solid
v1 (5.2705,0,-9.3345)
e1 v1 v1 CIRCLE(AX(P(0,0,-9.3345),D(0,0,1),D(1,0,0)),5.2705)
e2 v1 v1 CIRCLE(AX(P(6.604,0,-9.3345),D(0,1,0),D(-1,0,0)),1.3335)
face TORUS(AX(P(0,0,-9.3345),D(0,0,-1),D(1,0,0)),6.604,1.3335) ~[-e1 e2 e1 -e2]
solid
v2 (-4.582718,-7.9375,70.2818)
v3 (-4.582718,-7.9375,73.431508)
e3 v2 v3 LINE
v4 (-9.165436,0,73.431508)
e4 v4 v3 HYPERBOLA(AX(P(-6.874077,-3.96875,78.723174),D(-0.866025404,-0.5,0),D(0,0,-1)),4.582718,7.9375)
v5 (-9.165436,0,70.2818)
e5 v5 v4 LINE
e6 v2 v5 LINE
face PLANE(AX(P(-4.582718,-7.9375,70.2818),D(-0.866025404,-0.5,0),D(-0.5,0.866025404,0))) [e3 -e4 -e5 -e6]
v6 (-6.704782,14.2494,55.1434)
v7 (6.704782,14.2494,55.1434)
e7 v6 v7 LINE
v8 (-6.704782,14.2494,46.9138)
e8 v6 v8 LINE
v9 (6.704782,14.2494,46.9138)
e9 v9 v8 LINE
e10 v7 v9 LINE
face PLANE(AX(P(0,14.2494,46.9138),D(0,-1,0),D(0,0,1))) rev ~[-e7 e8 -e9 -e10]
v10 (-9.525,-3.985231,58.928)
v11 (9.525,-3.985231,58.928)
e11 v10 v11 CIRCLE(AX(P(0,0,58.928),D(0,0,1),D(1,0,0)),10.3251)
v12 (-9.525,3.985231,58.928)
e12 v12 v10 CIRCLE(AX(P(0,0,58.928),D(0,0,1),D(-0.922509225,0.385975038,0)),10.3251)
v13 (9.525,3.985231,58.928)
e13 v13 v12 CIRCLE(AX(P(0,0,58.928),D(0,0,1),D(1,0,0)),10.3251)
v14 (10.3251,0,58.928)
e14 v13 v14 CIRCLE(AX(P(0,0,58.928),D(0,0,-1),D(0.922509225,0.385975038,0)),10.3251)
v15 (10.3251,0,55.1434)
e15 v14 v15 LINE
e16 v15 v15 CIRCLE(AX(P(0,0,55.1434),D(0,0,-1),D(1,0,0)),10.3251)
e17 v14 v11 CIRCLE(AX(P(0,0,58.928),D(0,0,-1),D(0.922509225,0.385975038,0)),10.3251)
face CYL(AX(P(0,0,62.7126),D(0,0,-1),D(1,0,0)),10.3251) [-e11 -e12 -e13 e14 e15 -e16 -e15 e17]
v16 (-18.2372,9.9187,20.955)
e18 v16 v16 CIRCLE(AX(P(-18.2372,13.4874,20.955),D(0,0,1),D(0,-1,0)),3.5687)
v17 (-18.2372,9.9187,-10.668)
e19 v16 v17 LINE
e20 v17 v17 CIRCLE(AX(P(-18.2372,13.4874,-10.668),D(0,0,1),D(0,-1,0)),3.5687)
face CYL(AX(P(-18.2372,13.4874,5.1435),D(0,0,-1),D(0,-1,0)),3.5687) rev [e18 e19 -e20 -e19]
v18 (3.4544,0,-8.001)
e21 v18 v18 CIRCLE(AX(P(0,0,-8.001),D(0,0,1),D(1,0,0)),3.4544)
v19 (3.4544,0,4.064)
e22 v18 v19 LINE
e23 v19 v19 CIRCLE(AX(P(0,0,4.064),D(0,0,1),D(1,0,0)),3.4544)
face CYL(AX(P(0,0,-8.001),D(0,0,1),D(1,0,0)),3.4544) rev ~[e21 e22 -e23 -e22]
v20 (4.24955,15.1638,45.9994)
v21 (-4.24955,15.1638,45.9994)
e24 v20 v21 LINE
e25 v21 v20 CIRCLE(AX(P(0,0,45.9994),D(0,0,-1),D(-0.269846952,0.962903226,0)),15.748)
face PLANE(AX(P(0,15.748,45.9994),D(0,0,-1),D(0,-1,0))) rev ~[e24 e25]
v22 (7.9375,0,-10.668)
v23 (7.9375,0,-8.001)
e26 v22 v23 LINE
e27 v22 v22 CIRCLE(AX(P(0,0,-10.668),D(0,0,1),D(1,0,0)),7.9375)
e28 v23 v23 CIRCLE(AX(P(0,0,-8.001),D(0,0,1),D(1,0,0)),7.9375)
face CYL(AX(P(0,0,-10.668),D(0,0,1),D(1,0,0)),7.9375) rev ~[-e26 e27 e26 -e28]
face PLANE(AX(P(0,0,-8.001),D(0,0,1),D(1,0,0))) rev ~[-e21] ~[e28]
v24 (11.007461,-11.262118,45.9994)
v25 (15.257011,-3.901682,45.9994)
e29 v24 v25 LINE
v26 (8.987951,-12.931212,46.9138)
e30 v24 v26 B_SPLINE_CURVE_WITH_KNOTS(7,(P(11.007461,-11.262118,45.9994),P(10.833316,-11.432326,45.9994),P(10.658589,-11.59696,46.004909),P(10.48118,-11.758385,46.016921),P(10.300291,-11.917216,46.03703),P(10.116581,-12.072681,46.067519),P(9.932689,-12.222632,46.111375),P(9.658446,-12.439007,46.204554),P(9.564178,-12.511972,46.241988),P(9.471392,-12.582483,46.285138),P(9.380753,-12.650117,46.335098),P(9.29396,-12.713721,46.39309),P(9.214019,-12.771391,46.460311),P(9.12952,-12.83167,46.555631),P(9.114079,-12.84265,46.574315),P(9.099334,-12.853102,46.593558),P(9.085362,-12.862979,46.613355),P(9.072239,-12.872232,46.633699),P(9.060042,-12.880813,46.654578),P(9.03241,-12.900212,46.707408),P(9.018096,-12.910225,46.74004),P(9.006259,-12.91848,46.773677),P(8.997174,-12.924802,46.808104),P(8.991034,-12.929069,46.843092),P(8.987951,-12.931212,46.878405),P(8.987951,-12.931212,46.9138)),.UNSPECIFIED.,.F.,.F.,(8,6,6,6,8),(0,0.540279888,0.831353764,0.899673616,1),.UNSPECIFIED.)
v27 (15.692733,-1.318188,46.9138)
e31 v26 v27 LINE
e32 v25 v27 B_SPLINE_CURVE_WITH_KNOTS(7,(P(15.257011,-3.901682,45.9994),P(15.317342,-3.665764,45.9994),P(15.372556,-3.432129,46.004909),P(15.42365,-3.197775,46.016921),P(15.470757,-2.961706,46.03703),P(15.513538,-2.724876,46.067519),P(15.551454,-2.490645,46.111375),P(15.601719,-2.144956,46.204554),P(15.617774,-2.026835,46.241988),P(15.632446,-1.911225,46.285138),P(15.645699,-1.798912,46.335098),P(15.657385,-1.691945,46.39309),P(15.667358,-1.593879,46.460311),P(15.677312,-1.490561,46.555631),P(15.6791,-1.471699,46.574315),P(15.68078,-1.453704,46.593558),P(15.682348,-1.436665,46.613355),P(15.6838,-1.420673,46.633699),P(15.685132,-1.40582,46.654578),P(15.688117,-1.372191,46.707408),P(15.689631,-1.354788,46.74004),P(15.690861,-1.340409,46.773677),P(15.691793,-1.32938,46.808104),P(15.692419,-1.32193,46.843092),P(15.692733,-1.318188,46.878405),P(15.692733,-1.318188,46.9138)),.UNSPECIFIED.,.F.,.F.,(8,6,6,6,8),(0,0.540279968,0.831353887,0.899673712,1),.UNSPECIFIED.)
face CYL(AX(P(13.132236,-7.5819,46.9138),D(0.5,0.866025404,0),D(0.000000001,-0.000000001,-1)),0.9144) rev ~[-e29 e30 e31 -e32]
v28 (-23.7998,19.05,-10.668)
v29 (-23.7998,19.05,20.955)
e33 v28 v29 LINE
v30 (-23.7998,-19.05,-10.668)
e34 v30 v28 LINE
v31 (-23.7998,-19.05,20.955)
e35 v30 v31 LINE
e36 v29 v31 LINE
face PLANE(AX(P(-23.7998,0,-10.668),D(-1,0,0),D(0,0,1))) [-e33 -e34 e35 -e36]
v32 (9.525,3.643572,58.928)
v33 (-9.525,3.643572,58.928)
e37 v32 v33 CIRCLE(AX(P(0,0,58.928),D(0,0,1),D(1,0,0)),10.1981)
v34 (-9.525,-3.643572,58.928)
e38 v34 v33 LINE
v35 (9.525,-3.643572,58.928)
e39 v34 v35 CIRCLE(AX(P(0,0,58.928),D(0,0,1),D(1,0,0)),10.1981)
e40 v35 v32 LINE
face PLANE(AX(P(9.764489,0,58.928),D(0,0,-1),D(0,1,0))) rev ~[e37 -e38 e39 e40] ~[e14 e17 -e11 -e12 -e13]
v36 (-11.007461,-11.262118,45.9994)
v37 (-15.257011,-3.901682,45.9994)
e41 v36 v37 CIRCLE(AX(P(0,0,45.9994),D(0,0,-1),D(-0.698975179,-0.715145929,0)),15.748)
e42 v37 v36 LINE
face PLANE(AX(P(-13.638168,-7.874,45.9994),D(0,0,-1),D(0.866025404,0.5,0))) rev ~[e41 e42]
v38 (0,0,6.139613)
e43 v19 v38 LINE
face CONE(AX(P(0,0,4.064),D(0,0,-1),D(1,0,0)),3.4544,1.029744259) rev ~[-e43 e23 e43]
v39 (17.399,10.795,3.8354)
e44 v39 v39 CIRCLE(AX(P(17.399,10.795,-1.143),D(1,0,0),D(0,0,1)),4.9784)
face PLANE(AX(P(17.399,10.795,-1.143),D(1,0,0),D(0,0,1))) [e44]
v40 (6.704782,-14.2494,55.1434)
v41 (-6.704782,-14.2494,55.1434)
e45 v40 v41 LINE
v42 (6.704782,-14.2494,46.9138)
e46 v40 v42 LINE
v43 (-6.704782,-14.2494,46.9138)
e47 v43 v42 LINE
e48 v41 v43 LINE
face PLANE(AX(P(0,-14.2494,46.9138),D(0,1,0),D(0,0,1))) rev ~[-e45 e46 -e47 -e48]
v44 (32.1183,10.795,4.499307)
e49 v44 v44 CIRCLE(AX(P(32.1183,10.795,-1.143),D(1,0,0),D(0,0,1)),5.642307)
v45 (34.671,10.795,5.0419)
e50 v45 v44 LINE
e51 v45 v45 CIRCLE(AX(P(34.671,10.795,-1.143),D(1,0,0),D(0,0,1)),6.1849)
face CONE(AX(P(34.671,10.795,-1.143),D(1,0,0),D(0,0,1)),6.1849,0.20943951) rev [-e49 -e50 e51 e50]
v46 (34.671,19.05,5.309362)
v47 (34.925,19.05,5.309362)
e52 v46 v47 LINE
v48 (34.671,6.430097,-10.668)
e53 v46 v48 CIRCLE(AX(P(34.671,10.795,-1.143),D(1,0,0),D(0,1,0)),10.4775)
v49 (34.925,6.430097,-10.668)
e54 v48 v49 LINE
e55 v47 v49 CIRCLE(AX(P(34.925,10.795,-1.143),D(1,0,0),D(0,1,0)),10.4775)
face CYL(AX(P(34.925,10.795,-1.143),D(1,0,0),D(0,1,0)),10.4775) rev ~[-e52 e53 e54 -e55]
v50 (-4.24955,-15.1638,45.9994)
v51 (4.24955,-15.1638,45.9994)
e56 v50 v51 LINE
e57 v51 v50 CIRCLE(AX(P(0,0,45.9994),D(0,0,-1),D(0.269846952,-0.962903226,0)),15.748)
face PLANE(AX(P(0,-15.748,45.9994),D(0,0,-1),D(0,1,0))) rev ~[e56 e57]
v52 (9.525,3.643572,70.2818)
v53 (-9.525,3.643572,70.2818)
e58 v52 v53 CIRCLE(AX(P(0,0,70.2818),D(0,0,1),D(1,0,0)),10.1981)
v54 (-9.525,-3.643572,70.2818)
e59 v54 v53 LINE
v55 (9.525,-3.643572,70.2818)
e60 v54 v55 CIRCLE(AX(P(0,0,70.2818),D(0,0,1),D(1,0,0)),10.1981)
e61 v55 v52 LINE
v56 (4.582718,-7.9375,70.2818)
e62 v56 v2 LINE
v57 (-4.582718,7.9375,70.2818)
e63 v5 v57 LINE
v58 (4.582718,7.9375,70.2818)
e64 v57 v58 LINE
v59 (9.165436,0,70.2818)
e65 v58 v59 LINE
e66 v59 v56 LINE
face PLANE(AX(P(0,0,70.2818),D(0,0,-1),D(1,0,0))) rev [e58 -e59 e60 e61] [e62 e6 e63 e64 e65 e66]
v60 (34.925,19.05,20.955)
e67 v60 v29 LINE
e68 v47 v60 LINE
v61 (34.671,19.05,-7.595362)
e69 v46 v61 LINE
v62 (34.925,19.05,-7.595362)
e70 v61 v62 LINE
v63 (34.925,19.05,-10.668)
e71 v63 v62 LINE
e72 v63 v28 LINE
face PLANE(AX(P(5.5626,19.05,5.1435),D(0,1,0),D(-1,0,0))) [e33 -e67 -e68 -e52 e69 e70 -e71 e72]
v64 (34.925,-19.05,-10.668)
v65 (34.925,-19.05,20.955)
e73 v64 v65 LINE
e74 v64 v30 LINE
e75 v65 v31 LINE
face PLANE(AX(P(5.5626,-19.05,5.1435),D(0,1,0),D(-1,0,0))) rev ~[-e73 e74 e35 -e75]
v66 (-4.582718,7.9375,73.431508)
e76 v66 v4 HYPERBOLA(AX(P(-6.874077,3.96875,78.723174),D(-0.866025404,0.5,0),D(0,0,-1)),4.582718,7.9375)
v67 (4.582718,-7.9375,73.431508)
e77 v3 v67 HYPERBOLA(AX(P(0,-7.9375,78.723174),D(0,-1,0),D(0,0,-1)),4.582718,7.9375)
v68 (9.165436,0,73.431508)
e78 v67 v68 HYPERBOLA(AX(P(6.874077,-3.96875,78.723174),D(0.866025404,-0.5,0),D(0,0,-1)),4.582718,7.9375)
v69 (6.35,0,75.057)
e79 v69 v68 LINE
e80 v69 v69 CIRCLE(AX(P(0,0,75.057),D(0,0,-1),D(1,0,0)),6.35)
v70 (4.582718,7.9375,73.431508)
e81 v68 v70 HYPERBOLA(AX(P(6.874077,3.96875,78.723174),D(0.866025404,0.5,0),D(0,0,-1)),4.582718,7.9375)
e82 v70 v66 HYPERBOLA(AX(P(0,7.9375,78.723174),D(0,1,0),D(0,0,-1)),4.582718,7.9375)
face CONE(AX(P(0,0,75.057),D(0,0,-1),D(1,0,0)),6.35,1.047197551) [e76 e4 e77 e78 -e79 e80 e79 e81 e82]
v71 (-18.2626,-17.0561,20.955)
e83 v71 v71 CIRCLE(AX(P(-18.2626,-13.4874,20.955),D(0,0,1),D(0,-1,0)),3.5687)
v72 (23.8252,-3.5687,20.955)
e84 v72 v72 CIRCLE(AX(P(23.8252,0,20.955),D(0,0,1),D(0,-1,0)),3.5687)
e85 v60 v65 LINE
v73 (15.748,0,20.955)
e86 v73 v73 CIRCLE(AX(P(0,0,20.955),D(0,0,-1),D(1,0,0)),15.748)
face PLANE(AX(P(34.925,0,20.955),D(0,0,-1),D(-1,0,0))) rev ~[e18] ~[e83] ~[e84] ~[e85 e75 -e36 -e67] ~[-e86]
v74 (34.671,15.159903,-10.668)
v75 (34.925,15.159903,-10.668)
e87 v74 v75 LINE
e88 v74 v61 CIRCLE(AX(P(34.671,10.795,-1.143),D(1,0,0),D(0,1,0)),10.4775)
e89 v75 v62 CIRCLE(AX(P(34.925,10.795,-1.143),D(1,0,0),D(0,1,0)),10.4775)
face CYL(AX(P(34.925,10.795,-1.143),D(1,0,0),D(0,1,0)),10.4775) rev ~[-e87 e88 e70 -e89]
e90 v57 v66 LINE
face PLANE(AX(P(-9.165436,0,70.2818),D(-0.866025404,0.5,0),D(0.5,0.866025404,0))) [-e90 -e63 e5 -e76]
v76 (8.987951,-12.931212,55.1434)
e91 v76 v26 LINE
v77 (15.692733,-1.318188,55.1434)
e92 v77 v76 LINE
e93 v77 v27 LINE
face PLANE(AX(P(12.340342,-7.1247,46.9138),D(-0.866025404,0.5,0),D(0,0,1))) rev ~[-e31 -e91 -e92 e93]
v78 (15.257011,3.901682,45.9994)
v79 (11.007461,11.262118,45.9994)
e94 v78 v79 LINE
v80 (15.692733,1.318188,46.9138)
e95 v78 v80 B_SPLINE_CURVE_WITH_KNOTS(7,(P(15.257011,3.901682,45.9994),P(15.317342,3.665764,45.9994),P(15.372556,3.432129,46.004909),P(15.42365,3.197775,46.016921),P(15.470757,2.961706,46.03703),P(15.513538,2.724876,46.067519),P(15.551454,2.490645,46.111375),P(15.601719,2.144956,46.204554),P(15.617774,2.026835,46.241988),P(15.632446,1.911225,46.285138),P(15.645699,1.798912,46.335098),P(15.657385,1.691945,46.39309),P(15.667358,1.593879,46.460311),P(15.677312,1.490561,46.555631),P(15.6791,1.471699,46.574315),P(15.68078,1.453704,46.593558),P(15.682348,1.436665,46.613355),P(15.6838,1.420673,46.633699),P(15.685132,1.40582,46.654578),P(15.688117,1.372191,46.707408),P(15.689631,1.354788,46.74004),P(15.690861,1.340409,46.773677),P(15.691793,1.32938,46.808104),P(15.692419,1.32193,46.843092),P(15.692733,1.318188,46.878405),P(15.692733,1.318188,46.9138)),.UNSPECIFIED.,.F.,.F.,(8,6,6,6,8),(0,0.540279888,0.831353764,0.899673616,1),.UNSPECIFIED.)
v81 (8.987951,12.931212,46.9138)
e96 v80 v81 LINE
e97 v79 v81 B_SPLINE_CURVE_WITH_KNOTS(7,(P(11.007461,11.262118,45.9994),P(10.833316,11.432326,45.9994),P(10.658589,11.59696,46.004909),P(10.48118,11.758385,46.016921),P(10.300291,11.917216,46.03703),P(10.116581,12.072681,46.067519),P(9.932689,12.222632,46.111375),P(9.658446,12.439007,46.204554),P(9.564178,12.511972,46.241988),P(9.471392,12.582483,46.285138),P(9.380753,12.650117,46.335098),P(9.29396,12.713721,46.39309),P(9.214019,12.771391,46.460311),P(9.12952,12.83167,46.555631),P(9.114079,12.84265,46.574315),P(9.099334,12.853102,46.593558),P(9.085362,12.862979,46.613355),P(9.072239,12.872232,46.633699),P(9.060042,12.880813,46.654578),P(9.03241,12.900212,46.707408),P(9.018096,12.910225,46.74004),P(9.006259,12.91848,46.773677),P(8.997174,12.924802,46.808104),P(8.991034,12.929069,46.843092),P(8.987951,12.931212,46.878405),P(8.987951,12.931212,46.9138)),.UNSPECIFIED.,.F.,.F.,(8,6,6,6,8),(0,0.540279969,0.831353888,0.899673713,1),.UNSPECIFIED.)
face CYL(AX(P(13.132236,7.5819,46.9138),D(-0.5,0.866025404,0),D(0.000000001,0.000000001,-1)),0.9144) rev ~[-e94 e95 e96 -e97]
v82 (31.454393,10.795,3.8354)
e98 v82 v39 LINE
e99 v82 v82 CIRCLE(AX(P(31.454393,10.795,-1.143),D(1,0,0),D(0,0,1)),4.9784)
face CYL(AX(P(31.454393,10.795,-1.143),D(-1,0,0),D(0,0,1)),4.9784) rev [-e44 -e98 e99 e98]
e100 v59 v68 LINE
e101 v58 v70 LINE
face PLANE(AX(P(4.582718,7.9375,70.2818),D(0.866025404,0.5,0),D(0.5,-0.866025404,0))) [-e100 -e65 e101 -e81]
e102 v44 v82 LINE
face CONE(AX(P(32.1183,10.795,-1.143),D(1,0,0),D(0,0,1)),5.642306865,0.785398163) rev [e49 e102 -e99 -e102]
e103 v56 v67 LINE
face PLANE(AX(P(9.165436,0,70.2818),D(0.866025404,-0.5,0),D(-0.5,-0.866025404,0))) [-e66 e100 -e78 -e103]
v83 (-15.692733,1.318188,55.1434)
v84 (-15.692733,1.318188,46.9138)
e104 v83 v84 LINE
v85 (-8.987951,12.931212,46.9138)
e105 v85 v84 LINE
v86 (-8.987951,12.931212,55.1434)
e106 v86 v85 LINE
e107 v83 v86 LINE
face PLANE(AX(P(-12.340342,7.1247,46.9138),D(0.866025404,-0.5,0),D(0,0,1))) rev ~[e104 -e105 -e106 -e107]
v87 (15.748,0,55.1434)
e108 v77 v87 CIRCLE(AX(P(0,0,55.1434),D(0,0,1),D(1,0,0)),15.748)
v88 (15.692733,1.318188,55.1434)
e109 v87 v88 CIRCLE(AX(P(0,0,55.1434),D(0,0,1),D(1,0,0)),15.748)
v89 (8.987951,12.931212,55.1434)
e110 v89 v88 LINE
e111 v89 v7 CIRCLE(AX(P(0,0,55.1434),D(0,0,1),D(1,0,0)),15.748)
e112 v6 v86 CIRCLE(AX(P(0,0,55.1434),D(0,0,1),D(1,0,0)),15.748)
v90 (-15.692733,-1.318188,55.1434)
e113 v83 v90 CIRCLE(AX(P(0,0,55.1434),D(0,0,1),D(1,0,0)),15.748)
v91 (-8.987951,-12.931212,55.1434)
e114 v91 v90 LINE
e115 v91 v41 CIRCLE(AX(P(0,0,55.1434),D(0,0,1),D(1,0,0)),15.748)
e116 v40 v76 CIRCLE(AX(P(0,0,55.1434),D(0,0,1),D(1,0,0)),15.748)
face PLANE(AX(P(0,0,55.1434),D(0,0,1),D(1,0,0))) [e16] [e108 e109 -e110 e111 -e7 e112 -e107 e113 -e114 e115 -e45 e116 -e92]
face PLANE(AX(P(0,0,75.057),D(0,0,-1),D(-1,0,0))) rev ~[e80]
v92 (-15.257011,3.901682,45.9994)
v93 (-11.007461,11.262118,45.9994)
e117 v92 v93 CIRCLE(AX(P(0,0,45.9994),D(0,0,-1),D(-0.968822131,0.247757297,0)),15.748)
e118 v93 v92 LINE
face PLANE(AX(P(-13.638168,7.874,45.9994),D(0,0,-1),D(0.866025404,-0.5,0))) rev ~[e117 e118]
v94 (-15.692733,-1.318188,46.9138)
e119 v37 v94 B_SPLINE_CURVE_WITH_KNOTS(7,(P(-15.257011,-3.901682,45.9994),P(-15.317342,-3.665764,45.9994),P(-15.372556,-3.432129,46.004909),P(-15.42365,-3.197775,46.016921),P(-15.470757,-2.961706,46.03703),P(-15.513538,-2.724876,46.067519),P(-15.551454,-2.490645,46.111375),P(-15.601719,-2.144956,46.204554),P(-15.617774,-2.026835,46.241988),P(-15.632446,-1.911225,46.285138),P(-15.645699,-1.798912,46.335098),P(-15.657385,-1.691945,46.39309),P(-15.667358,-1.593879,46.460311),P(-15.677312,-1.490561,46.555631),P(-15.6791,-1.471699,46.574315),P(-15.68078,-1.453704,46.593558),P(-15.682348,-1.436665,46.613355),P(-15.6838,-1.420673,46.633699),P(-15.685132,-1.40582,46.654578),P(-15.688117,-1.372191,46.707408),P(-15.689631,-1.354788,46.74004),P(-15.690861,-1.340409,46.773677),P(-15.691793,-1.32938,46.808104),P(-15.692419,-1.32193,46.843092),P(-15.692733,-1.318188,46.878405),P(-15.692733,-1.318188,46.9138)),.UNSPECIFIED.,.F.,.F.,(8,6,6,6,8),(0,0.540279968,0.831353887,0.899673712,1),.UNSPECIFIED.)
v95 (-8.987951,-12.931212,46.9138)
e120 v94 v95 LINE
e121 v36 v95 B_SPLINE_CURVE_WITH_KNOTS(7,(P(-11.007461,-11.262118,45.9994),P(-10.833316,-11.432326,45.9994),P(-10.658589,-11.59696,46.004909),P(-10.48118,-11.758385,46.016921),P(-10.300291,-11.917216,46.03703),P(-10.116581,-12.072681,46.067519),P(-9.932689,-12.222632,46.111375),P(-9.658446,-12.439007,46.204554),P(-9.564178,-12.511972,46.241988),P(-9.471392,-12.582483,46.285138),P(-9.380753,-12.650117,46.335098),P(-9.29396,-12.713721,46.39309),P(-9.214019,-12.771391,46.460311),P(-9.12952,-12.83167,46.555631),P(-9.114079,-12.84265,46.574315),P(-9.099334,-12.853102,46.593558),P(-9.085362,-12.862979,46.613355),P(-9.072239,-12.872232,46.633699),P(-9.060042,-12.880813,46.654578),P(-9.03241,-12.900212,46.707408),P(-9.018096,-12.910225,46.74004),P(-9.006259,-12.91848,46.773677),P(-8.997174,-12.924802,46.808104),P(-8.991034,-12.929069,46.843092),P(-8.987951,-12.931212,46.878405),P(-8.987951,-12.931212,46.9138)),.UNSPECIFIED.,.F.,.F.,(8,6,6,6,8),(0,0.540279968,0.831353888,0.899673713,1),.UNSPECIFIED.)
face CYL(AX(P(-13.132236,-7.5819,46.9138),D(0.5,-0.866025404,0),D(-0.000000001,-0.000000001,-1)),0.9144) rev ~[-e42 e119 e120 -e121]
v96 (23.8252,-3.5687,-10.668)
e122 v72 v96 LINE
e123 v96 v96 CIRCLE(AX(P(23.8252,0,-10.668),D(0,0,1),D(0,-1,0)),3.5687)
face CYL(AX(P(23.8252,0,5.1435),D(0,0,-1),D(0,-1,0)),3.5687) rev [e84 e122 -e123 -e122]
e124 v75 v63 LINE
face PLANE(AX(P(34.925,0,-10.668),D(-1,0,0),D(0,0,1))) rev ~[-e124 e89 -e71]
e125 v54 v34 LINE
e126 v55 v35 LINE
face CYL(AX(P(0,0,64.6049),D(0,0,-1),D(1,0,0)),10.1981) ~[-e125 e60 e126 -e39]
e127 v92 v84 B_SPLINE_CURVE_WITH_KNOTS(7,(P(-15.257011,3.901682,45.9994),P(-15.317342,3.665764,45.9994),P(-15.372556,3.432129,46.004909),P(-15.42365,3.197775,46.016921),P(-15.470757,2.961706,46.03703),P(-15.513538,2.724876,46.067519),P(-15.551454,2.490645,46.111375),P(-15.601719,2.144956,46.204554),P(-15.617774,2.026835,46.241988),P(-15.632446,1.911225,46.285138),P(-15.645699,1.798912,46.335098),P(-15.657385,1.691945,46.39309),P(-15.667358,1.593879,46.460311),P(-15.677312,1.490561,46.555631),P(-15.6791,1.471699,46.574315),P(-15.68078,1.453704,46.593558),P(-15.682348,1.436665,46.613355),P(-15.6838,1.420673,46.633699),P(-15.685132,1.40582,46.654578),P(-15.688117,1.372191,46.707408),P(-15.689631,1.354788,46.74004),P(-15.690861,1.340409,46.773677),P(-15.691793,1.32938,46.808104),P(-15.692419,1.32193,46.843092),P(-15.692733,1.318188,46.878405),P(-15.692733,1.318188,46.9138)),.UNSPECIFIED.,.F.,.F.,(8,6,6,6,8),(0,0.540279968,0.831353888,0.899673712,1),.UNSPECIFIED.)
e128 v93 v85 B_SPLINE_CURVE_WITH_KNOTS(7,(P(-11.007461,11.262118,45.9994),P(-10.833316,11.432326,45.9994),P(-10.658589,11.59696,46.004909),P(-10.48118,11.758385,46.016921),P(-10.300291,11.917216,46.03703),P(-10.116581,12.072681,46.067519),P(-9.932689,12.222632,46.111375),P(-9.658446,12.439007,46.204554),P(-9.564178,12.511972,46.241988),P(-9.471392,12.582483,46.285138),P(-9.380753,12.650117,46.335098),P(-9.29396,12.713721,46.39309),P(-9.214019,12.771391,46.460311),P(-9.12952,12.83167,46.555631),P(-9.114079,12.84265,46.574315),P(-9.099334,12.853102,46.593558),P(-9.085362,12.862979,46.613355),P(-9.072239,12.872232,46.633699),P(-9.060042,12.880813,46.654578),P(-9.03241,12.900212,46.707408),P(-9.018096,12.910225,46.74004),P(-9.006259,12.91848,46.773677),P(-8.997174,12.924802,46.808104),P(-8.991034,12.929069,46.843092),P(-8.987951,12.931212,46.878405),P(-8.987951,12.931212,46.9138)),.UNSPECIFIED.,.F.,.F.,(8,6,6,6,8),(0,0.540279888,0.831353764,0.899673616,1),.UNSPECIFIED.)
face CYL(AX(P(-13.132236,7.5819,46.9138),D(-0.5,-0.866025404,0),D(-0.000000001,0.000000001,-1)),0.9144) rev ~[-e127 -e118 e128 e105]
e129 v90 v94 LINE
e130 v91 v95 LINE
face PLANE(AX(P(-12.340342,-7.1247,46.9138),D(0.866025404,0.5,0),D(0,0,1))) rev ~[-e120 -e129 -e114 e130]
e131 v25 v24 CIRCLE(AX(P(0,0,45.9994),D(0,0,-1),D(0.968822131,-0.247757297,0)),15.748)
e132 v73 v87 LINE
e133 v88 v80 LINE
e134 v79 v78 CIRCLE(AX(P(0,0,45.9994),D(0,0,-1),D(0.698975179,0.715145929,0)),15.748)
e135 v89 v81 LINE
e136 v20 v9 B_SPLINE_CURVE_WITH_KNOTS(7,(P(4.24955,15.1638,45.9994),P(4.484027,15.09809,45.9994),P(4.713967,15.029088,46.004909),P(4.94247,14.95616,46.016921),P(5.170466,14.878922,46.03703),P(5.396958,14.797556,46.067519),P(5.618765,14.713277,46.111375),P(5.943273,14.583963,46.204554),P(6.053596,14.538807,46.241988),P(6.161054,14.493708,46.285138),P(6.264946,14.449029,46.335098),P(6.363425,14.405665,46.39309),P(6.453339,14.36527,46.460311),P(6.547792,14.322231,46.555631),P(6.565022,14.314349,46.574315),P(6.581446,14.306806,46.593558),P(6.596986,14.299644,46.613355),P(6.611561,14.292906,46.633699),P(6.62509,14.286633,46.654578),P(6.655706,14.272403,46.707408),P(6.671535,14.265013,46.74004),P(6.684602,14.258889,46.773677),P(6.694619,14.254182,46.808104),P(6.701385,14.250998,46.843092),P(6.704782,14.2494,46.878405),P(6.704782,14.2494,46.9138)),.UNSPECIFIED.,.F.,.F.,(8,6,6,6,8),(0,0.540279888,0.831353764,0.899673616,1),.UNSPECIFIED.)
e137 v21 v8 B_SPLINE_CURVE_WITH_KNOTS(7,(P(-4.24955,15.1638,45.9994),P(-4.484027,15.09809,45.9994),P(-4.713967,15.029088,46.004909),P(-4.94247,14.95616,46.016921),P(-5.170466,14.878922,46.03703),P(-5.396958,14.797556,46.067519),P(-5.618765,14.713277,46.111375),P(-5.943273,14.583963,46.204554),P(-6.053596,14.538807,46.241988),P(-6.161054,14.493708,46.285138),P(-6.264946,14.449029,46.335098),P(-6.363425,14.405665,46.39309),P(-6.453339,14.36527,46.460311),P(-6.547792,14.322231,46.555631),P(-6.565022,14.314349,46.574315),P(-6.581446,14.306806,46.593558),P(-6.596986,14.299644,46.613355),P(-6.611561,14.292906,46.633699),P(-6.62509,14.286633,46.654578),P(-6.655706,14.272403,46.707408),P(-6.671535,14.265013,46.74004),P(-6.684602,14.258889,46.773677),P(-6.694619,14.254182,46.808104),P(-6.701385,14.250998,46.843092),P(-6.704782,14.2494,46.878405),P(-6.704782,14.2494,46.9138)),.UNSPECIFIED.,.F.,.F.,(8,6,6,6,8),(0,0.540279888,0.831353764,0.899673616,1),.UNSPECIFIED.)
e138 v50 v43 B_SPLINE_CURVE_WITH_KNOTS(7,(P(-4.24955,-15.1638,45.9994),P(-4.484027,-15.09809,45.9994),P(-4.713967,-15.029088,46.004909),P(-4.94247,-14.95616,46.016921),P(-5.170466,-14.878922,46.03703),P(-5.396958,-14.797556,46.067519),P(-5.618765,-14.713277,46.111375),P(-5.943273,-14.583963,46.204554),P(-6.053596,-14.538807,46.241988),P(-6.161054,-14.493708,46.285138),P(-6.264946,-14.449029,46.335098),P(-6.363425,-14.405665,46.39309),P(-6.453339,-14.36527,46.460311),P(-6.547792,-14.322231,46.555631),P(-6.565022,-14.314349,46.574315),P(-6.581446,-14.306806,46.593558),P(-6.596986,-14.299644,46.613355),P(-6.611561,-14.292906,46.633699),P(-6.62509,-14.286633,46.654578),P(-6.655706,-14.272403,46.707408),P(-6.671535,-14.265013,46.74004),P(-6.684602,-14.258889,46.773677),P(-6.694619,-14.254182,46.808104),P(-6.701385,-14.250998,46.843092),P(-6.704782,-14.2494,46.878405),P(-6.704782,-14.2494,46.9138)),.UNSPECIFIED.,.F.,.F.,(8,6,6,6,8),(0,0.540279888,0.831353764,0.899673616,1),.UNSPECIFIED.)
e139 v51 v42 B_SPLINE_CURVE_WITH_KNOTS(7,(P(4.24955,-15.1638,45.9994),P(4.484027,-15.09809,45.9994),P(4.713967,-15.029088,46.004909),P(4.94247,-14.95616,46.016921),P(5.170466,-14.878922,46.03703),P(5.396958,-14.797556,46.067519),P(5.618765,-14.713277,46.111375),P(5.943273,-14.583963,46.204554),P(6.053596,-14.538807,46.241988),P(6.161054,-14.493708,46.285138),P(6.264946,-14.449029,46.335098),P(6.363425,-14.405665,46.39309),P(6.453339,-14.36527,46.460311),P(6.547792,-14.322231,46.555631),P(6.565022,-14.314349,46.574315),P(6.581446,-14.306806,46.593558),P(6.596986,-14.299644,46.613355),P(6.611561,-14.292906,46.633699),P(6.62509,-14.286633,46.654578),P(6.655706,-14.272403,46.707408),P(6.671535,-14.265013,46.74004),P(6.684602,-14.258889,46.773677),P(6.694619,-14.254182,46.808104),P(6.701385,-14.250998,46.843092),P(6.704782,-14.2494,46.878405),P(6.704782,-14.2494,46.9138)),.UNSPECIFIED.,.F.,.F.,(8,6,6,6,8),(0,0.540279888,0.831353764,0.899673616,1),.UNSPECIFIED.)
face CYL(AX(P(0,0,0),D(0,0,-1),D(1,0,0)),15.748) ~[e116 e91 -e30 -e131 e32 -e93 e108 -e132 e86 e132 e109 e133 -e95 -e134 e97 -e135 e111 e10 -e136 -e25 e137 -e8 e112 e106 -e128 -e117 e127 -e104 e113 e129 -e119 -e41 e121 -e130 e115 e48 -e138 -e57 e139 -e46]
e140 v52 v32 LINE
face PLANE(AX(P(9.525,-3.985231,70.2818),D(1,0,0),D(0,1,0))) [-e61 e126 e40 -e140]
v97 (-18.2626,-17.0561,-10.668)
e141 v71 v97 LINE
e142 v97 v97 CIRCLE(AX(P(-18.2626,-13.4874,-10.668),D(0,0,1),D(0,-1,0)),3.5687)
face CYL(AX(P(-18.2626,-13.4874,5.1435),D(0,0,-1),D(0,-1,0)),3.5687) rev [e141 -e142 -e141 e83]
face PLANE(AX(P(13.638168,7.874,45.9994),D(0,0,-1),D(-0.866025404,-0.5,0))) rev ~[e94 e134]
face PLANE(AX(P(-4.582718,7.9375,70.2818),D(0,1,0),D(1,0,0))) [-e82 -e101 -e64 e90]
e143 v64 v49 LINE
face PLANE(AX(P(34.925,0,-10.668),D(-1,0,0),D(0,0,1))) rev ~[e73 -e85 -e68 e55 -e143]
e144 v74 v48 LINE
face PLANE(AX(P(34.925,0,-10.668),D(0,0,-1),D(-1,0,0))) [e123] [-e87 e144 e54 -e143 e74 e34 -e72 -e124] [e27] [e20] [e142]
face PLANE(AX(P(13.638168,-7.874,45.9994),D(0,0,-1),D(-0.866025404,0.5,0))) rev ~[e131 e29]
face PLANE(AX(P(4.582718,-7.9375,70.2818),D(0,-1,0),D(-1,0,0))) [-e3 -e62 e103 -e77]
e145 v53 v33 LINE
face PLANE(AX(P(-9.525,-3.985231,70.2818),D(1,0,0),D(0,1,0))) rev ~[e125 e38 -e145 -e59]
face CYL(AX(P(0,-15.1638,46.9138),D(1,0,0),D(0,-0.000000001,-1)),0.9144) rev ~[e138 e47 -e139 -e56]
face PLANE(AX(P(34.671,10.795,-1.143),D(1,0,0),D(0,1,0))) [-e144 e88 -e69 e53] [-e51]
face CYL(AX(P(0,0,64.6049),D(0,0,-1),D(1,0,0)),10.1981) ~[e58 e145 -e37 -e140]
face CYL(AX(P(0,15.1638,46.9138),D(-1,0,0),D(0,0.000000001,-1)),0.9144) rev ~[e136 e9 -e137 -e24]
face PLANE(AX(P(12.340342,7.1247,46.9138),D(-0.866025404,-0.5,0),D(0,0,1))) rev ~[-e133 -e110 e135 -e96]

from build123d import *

# Parameters (mm, degrees)
SKETCH1_R           = 15.748
EXTRUDE1_DEPTH      = 55.1434
CUT_EXTRUDE1_DEPTH  = 18.8976
SKETCH11_W          = 15.1384
SKETCH11_H          = 10.3251
CUT_EXTRUDE10_DEPTH = 11.3538
EXTRUDE2_DEPTH      = 4.7752
SKETCH17_W          = 58.7248
SKETCH17_H          = 31.623
EXTRUDE4_DEPTH      = 19.05
SKETCH19_R          = 10.4775
CUT_EXTRUDE12_DEPTH = 0.254
SKETCH22_R          = 1.3335
CIRPATTERN2_COUNT   = 6
SKETCH23_W          = 3.5687
SKETCH23_H          = 31.623
HOLE1_AT_2_COUNT    = 2
HOLE1_AT_2_PITCH    = 44.196072988
HOLE1_AT_3_COUNT    = 2
HOLE1_AT_3_PITCH    = 26.974811959
SKETCH25_W          = 11.3538
SKETCH25_H          = 0.127


with BuildPart() as part:
    # Sketch1 → Extrude1 (new body)
    with BuildSketch(Plane.XY):
        Circle(SKETCH1_R)
    extrude(amount=EXTRUDE1_DEPTH)

    # Sketch2 → Cut-Extrude1 (cut, symmetric)
    with BuildSketch(Plane(origin=(0, 0, 0), x_dir=(0, 0, 1), z_dir=(1, 0, 0))):
        with BuildLine():
            Line((45.9994, 15.748), (45.9994, 15.1638))
            ThreePointArc((45.9994, 15.1638), (46.267221559, 14.517221559), (46.9138, 14.2494))
            Line((46.9138, 14.2494), (55.1434, 14.2494))
            Line((55.1434, 14.2494), (55.1434, 15.748))
            Line((55.1434, 15.748), (45.9994, 15.748))
        make_face()
    cut_extrude1 = extrude(amount=CUT_EXTRUDE1_DEPTH, both=True, mode=Mode.SUBTRACT)

    # Sketch10 → Cut-Revolve1 (revolve, cut)
    with BuildSketch(Plane(origin=(0, 0, 0), x_dir=(0, 0, 1), z_dir=(1, 0, 0)), mode=Mode.PRIVATE) as cut_revolve1_sk:
        Polygon((0, 14.8717), (7.7978, 14.8717), (8.6741, 15.748), (0, 15.748), align=None)
    revolve(cut_revolve1_sk.sketch.rotate(Axis((0, 0, -0.433705), (0, 0, 1)), 90), axis=Axis((0, 0, -0.433705), (0, 0, 1)), mode=Mode.SUBTRACT)  # turned: the seam where the file's is

    # Sketch11 → Revolve1 (revolve)
    with BuildSketch(Plane(origin=(0, 0, 0), x_dir=(0, 0, -1), z_dir=(1, 0, 0)), mode=Mode.PRIVATE) as revolve1_sk:
        with Locations((-62.7126, 5.16255)):
            Rectangle(SKETCH11_W, SKETCH11_H)
    revolve(revolve1_sk.sketch.rotate(Axis((0, 0, 71.154272279), (0, 0, -1)), 90), axis=Axis((0, 0, 71.154272279), (0, 0, -1)))  # turned: the seam where the file's is

    # Sketch14 → Cut-Extrude10 (cut)
    with BuildSketch(Plane.YX.offset(-70.2818)):
        with BuildLine():
            Line((-3.98523086, 9.525), (3.98523086, 9.525))
            ThreePointArc((3.98523086, 9.525), (0, 10.3251), (-3.98523086, 9.525))
        make_face()
        with BuildLine():
            Line((-3.98523086, -9.525), (3.98523086, -9.525))
            ThreePointArc((3.98523086, -9.525), (0, -10.3251), (-3.98523086, -9.525))
        make_face()
    extrude(amount=CUT_EXTRUDE10_DEPTH, mode=Mode.SUBTRACT)

    # Sketch15 → Extrude2 (add)
    with BuildSketch(Plane.XY.offset(70.2818)):
        Polygon((-4.582717762, 7.9375), (4.582717762, 7.9375), (9.165435523, 0), (4.582717762, -7.9375), (-4.582717762, -7.9375), (-9.165435523, 0), align=None)
    extrude(amount=EXTRUDE2_DEPTH)

    # Sketch16 → Cut-Revolve3 (revolve, cut)
    with BuildSketch(Plane(origin=(0, 0, 0), x_dir=(1, 0, 0), z_dir=(0, 1, 0))):
        Polygon((6.35, -75.057), (9.165435523, -73.431507543), (9.165435523, -75.057), align=None)
    revolve(axis=Axis((0, 0, 75.265274623), (0, 0, -1)), mode=Mode.SUBTRACT)

    # Sketch17 → Extrude4 (add, symmetric)
    with BuildSketch(Plane(origin=(0, 0, 0), x_dir=(-1, 0, 0), z_dir=(0, 1, 0))):
        with Locations((-5.5626, 5.1435)):
            Rectangle(SKETCH17_W, SKETCH17_H)
    extrude(amount=EXTRUDE4_DEPTH, both=True)

    # Sketch19 → Cut-Extrude12 (cut)
    with BuildSketch(Plane(origin=(34.925, -19.05, 0), x_dir=(0, 1, 0), z_dir=(1, 0, 0))):
        with Locations((29.845, -1.143)):
            Circle(SKETCH19_R)
    extrude(amount=-CUT_EXTRUDE12_DEPTH, mode=Mode.SUBTRACT)

    # S2D0001 → Cut-Revolve4 (revolve, cut)
    with BuildSketch(Plane(origin=(34.671, 10.795, -1.143), x_dir=(0, -1, 0), z_dir=(0, 0, 1)), mode=Mode.PRIVATE) as cut_revolve4_sk:
        Polygon((0, 0), (6.1849, 0), (5.642306865, -2.5527), (4.9784, -3.216606865), (4.9784, -17.272), (0, -17.272), align=None)
    revolve(cut_revolve4_sk.sketch.rotate(Axis((16.5354, 10.795, -1.143), (1, 0, 0)), 270), axis=Axis((16.5354, 10.795, -1.143), (1, 0, 0)), mode=Mode.SUBTRACT)  # turned: the seam where the file's is

    # Sketch21 → Cut-Revolve5 (revolve, cut)
    with BuildSketch(Plane(origin=(0, 0, -9.329310202), x_dir=(-1, 0, 0), z_dir=(0, 1, 0)), mode=Mode.PRIVATE) as cut_revolve5_sk:
        Polygon((0, -1.338689798), (7.9375, -1.338689798), (7.9375, 1.328310202), (3.4544, 1.328310202), (3.4544, 13.393310202), (0, 15.468923125), align=None)
    revolve(cut_revolve5_sk.sketch.rotate(Axis((0, 0, -11.508380646), (0, 0, 1)), 180), axis=Axis((0, 0, -11.508380646), (0, 0, 1)), mode=Mode.SUBTRACT)  # turned: the seam where the file's is

    # CirPattern2: Cut-Extrude1 ×6 about axis
    cirpattern2_axis = Axis((0, 0, 0), (0, 0, 1))
    for i in range(1, CIRPATTERN2_COUNT):
        add(cut_extrude1.rotate(cirpattern2_axis, i * 360 / CIRPATTERN2_COUNT), mode=Mode.SUBTRACT)

    # Sketch23 → Hole1 (revolve, cut)
    with BuildSketch(Plane(origin=(-18.2626, -13.4874, 20.955), x_dir=(0, -1, 0), z_dir=(1, 0, 0))):
        with Locations((1.78435, 15.8115)):
            Rectangle(SKETCH23_W, SKETCH23_H)
    hole1 = revolve(axis=Axis((-18.2626, -13.4874, -89.045), (0, 0, 1)), mode=Mode.SUBTRACT)

    # Hole1 at 2: Hole1 ×2
    with Locations(*[Vector(0.952297278, 0.30517191, 0) * (i * HOLE1_AT_2_PITCH) for i in range(1, HOLE1_AT_2_COUNT)]):
        add(hole1, mode=Mode.SUBTRACT)

    # Hole1 at 3: Hole1 ×2
    with Locations(*[Vector(0.000941619, 0.999999557, 0) * (i * HOLE1_AT_3_PITCH) for i in range(1, HOLE1_AT_3_COUNT)]):
        add(hole1, mode=Mode.SUBTRACT)

    # Sketch25 → Cut-Revolve6 (revolve, cut)
    with BuildSketch(Plane(origin=(0, 0, 0), x_dir=(0, 0, -1), z_dir=(1, 0, 0)), mode=Mode.PRIVATE) as cut_revolve6_sk:
        with Locations((-64.6049, 10.2616)):
            Rectangle(SKETCH25_W, SKETCH25_H)
    revolve(cut_revolve6_sk.sketch.rotate(Axis((0, 0, -10.668), (0, 0, 1)), 270), axis=Axis((0, 0, -10.668), (0, 0, 1)), mode=Mode.SUBTRACT)  # turned: the seam where the file's is


with BuildPart() as body_2:
    # Sketch22 → Revolve2 (revolve)
    with BuildSketch(Plane(origin=(0, 0, -9.329310202), x_dir=(-1, 0, 0), z_dir=(0, 1, 0))):
        with Locations((-6.604, -0.005189798)):
            Circle(SKETCH22_R)
    revolve(axis=Axis((0, 0, -10.80135), (0, 0, 1)))


solid = Compound([part.part, body_2.part])
